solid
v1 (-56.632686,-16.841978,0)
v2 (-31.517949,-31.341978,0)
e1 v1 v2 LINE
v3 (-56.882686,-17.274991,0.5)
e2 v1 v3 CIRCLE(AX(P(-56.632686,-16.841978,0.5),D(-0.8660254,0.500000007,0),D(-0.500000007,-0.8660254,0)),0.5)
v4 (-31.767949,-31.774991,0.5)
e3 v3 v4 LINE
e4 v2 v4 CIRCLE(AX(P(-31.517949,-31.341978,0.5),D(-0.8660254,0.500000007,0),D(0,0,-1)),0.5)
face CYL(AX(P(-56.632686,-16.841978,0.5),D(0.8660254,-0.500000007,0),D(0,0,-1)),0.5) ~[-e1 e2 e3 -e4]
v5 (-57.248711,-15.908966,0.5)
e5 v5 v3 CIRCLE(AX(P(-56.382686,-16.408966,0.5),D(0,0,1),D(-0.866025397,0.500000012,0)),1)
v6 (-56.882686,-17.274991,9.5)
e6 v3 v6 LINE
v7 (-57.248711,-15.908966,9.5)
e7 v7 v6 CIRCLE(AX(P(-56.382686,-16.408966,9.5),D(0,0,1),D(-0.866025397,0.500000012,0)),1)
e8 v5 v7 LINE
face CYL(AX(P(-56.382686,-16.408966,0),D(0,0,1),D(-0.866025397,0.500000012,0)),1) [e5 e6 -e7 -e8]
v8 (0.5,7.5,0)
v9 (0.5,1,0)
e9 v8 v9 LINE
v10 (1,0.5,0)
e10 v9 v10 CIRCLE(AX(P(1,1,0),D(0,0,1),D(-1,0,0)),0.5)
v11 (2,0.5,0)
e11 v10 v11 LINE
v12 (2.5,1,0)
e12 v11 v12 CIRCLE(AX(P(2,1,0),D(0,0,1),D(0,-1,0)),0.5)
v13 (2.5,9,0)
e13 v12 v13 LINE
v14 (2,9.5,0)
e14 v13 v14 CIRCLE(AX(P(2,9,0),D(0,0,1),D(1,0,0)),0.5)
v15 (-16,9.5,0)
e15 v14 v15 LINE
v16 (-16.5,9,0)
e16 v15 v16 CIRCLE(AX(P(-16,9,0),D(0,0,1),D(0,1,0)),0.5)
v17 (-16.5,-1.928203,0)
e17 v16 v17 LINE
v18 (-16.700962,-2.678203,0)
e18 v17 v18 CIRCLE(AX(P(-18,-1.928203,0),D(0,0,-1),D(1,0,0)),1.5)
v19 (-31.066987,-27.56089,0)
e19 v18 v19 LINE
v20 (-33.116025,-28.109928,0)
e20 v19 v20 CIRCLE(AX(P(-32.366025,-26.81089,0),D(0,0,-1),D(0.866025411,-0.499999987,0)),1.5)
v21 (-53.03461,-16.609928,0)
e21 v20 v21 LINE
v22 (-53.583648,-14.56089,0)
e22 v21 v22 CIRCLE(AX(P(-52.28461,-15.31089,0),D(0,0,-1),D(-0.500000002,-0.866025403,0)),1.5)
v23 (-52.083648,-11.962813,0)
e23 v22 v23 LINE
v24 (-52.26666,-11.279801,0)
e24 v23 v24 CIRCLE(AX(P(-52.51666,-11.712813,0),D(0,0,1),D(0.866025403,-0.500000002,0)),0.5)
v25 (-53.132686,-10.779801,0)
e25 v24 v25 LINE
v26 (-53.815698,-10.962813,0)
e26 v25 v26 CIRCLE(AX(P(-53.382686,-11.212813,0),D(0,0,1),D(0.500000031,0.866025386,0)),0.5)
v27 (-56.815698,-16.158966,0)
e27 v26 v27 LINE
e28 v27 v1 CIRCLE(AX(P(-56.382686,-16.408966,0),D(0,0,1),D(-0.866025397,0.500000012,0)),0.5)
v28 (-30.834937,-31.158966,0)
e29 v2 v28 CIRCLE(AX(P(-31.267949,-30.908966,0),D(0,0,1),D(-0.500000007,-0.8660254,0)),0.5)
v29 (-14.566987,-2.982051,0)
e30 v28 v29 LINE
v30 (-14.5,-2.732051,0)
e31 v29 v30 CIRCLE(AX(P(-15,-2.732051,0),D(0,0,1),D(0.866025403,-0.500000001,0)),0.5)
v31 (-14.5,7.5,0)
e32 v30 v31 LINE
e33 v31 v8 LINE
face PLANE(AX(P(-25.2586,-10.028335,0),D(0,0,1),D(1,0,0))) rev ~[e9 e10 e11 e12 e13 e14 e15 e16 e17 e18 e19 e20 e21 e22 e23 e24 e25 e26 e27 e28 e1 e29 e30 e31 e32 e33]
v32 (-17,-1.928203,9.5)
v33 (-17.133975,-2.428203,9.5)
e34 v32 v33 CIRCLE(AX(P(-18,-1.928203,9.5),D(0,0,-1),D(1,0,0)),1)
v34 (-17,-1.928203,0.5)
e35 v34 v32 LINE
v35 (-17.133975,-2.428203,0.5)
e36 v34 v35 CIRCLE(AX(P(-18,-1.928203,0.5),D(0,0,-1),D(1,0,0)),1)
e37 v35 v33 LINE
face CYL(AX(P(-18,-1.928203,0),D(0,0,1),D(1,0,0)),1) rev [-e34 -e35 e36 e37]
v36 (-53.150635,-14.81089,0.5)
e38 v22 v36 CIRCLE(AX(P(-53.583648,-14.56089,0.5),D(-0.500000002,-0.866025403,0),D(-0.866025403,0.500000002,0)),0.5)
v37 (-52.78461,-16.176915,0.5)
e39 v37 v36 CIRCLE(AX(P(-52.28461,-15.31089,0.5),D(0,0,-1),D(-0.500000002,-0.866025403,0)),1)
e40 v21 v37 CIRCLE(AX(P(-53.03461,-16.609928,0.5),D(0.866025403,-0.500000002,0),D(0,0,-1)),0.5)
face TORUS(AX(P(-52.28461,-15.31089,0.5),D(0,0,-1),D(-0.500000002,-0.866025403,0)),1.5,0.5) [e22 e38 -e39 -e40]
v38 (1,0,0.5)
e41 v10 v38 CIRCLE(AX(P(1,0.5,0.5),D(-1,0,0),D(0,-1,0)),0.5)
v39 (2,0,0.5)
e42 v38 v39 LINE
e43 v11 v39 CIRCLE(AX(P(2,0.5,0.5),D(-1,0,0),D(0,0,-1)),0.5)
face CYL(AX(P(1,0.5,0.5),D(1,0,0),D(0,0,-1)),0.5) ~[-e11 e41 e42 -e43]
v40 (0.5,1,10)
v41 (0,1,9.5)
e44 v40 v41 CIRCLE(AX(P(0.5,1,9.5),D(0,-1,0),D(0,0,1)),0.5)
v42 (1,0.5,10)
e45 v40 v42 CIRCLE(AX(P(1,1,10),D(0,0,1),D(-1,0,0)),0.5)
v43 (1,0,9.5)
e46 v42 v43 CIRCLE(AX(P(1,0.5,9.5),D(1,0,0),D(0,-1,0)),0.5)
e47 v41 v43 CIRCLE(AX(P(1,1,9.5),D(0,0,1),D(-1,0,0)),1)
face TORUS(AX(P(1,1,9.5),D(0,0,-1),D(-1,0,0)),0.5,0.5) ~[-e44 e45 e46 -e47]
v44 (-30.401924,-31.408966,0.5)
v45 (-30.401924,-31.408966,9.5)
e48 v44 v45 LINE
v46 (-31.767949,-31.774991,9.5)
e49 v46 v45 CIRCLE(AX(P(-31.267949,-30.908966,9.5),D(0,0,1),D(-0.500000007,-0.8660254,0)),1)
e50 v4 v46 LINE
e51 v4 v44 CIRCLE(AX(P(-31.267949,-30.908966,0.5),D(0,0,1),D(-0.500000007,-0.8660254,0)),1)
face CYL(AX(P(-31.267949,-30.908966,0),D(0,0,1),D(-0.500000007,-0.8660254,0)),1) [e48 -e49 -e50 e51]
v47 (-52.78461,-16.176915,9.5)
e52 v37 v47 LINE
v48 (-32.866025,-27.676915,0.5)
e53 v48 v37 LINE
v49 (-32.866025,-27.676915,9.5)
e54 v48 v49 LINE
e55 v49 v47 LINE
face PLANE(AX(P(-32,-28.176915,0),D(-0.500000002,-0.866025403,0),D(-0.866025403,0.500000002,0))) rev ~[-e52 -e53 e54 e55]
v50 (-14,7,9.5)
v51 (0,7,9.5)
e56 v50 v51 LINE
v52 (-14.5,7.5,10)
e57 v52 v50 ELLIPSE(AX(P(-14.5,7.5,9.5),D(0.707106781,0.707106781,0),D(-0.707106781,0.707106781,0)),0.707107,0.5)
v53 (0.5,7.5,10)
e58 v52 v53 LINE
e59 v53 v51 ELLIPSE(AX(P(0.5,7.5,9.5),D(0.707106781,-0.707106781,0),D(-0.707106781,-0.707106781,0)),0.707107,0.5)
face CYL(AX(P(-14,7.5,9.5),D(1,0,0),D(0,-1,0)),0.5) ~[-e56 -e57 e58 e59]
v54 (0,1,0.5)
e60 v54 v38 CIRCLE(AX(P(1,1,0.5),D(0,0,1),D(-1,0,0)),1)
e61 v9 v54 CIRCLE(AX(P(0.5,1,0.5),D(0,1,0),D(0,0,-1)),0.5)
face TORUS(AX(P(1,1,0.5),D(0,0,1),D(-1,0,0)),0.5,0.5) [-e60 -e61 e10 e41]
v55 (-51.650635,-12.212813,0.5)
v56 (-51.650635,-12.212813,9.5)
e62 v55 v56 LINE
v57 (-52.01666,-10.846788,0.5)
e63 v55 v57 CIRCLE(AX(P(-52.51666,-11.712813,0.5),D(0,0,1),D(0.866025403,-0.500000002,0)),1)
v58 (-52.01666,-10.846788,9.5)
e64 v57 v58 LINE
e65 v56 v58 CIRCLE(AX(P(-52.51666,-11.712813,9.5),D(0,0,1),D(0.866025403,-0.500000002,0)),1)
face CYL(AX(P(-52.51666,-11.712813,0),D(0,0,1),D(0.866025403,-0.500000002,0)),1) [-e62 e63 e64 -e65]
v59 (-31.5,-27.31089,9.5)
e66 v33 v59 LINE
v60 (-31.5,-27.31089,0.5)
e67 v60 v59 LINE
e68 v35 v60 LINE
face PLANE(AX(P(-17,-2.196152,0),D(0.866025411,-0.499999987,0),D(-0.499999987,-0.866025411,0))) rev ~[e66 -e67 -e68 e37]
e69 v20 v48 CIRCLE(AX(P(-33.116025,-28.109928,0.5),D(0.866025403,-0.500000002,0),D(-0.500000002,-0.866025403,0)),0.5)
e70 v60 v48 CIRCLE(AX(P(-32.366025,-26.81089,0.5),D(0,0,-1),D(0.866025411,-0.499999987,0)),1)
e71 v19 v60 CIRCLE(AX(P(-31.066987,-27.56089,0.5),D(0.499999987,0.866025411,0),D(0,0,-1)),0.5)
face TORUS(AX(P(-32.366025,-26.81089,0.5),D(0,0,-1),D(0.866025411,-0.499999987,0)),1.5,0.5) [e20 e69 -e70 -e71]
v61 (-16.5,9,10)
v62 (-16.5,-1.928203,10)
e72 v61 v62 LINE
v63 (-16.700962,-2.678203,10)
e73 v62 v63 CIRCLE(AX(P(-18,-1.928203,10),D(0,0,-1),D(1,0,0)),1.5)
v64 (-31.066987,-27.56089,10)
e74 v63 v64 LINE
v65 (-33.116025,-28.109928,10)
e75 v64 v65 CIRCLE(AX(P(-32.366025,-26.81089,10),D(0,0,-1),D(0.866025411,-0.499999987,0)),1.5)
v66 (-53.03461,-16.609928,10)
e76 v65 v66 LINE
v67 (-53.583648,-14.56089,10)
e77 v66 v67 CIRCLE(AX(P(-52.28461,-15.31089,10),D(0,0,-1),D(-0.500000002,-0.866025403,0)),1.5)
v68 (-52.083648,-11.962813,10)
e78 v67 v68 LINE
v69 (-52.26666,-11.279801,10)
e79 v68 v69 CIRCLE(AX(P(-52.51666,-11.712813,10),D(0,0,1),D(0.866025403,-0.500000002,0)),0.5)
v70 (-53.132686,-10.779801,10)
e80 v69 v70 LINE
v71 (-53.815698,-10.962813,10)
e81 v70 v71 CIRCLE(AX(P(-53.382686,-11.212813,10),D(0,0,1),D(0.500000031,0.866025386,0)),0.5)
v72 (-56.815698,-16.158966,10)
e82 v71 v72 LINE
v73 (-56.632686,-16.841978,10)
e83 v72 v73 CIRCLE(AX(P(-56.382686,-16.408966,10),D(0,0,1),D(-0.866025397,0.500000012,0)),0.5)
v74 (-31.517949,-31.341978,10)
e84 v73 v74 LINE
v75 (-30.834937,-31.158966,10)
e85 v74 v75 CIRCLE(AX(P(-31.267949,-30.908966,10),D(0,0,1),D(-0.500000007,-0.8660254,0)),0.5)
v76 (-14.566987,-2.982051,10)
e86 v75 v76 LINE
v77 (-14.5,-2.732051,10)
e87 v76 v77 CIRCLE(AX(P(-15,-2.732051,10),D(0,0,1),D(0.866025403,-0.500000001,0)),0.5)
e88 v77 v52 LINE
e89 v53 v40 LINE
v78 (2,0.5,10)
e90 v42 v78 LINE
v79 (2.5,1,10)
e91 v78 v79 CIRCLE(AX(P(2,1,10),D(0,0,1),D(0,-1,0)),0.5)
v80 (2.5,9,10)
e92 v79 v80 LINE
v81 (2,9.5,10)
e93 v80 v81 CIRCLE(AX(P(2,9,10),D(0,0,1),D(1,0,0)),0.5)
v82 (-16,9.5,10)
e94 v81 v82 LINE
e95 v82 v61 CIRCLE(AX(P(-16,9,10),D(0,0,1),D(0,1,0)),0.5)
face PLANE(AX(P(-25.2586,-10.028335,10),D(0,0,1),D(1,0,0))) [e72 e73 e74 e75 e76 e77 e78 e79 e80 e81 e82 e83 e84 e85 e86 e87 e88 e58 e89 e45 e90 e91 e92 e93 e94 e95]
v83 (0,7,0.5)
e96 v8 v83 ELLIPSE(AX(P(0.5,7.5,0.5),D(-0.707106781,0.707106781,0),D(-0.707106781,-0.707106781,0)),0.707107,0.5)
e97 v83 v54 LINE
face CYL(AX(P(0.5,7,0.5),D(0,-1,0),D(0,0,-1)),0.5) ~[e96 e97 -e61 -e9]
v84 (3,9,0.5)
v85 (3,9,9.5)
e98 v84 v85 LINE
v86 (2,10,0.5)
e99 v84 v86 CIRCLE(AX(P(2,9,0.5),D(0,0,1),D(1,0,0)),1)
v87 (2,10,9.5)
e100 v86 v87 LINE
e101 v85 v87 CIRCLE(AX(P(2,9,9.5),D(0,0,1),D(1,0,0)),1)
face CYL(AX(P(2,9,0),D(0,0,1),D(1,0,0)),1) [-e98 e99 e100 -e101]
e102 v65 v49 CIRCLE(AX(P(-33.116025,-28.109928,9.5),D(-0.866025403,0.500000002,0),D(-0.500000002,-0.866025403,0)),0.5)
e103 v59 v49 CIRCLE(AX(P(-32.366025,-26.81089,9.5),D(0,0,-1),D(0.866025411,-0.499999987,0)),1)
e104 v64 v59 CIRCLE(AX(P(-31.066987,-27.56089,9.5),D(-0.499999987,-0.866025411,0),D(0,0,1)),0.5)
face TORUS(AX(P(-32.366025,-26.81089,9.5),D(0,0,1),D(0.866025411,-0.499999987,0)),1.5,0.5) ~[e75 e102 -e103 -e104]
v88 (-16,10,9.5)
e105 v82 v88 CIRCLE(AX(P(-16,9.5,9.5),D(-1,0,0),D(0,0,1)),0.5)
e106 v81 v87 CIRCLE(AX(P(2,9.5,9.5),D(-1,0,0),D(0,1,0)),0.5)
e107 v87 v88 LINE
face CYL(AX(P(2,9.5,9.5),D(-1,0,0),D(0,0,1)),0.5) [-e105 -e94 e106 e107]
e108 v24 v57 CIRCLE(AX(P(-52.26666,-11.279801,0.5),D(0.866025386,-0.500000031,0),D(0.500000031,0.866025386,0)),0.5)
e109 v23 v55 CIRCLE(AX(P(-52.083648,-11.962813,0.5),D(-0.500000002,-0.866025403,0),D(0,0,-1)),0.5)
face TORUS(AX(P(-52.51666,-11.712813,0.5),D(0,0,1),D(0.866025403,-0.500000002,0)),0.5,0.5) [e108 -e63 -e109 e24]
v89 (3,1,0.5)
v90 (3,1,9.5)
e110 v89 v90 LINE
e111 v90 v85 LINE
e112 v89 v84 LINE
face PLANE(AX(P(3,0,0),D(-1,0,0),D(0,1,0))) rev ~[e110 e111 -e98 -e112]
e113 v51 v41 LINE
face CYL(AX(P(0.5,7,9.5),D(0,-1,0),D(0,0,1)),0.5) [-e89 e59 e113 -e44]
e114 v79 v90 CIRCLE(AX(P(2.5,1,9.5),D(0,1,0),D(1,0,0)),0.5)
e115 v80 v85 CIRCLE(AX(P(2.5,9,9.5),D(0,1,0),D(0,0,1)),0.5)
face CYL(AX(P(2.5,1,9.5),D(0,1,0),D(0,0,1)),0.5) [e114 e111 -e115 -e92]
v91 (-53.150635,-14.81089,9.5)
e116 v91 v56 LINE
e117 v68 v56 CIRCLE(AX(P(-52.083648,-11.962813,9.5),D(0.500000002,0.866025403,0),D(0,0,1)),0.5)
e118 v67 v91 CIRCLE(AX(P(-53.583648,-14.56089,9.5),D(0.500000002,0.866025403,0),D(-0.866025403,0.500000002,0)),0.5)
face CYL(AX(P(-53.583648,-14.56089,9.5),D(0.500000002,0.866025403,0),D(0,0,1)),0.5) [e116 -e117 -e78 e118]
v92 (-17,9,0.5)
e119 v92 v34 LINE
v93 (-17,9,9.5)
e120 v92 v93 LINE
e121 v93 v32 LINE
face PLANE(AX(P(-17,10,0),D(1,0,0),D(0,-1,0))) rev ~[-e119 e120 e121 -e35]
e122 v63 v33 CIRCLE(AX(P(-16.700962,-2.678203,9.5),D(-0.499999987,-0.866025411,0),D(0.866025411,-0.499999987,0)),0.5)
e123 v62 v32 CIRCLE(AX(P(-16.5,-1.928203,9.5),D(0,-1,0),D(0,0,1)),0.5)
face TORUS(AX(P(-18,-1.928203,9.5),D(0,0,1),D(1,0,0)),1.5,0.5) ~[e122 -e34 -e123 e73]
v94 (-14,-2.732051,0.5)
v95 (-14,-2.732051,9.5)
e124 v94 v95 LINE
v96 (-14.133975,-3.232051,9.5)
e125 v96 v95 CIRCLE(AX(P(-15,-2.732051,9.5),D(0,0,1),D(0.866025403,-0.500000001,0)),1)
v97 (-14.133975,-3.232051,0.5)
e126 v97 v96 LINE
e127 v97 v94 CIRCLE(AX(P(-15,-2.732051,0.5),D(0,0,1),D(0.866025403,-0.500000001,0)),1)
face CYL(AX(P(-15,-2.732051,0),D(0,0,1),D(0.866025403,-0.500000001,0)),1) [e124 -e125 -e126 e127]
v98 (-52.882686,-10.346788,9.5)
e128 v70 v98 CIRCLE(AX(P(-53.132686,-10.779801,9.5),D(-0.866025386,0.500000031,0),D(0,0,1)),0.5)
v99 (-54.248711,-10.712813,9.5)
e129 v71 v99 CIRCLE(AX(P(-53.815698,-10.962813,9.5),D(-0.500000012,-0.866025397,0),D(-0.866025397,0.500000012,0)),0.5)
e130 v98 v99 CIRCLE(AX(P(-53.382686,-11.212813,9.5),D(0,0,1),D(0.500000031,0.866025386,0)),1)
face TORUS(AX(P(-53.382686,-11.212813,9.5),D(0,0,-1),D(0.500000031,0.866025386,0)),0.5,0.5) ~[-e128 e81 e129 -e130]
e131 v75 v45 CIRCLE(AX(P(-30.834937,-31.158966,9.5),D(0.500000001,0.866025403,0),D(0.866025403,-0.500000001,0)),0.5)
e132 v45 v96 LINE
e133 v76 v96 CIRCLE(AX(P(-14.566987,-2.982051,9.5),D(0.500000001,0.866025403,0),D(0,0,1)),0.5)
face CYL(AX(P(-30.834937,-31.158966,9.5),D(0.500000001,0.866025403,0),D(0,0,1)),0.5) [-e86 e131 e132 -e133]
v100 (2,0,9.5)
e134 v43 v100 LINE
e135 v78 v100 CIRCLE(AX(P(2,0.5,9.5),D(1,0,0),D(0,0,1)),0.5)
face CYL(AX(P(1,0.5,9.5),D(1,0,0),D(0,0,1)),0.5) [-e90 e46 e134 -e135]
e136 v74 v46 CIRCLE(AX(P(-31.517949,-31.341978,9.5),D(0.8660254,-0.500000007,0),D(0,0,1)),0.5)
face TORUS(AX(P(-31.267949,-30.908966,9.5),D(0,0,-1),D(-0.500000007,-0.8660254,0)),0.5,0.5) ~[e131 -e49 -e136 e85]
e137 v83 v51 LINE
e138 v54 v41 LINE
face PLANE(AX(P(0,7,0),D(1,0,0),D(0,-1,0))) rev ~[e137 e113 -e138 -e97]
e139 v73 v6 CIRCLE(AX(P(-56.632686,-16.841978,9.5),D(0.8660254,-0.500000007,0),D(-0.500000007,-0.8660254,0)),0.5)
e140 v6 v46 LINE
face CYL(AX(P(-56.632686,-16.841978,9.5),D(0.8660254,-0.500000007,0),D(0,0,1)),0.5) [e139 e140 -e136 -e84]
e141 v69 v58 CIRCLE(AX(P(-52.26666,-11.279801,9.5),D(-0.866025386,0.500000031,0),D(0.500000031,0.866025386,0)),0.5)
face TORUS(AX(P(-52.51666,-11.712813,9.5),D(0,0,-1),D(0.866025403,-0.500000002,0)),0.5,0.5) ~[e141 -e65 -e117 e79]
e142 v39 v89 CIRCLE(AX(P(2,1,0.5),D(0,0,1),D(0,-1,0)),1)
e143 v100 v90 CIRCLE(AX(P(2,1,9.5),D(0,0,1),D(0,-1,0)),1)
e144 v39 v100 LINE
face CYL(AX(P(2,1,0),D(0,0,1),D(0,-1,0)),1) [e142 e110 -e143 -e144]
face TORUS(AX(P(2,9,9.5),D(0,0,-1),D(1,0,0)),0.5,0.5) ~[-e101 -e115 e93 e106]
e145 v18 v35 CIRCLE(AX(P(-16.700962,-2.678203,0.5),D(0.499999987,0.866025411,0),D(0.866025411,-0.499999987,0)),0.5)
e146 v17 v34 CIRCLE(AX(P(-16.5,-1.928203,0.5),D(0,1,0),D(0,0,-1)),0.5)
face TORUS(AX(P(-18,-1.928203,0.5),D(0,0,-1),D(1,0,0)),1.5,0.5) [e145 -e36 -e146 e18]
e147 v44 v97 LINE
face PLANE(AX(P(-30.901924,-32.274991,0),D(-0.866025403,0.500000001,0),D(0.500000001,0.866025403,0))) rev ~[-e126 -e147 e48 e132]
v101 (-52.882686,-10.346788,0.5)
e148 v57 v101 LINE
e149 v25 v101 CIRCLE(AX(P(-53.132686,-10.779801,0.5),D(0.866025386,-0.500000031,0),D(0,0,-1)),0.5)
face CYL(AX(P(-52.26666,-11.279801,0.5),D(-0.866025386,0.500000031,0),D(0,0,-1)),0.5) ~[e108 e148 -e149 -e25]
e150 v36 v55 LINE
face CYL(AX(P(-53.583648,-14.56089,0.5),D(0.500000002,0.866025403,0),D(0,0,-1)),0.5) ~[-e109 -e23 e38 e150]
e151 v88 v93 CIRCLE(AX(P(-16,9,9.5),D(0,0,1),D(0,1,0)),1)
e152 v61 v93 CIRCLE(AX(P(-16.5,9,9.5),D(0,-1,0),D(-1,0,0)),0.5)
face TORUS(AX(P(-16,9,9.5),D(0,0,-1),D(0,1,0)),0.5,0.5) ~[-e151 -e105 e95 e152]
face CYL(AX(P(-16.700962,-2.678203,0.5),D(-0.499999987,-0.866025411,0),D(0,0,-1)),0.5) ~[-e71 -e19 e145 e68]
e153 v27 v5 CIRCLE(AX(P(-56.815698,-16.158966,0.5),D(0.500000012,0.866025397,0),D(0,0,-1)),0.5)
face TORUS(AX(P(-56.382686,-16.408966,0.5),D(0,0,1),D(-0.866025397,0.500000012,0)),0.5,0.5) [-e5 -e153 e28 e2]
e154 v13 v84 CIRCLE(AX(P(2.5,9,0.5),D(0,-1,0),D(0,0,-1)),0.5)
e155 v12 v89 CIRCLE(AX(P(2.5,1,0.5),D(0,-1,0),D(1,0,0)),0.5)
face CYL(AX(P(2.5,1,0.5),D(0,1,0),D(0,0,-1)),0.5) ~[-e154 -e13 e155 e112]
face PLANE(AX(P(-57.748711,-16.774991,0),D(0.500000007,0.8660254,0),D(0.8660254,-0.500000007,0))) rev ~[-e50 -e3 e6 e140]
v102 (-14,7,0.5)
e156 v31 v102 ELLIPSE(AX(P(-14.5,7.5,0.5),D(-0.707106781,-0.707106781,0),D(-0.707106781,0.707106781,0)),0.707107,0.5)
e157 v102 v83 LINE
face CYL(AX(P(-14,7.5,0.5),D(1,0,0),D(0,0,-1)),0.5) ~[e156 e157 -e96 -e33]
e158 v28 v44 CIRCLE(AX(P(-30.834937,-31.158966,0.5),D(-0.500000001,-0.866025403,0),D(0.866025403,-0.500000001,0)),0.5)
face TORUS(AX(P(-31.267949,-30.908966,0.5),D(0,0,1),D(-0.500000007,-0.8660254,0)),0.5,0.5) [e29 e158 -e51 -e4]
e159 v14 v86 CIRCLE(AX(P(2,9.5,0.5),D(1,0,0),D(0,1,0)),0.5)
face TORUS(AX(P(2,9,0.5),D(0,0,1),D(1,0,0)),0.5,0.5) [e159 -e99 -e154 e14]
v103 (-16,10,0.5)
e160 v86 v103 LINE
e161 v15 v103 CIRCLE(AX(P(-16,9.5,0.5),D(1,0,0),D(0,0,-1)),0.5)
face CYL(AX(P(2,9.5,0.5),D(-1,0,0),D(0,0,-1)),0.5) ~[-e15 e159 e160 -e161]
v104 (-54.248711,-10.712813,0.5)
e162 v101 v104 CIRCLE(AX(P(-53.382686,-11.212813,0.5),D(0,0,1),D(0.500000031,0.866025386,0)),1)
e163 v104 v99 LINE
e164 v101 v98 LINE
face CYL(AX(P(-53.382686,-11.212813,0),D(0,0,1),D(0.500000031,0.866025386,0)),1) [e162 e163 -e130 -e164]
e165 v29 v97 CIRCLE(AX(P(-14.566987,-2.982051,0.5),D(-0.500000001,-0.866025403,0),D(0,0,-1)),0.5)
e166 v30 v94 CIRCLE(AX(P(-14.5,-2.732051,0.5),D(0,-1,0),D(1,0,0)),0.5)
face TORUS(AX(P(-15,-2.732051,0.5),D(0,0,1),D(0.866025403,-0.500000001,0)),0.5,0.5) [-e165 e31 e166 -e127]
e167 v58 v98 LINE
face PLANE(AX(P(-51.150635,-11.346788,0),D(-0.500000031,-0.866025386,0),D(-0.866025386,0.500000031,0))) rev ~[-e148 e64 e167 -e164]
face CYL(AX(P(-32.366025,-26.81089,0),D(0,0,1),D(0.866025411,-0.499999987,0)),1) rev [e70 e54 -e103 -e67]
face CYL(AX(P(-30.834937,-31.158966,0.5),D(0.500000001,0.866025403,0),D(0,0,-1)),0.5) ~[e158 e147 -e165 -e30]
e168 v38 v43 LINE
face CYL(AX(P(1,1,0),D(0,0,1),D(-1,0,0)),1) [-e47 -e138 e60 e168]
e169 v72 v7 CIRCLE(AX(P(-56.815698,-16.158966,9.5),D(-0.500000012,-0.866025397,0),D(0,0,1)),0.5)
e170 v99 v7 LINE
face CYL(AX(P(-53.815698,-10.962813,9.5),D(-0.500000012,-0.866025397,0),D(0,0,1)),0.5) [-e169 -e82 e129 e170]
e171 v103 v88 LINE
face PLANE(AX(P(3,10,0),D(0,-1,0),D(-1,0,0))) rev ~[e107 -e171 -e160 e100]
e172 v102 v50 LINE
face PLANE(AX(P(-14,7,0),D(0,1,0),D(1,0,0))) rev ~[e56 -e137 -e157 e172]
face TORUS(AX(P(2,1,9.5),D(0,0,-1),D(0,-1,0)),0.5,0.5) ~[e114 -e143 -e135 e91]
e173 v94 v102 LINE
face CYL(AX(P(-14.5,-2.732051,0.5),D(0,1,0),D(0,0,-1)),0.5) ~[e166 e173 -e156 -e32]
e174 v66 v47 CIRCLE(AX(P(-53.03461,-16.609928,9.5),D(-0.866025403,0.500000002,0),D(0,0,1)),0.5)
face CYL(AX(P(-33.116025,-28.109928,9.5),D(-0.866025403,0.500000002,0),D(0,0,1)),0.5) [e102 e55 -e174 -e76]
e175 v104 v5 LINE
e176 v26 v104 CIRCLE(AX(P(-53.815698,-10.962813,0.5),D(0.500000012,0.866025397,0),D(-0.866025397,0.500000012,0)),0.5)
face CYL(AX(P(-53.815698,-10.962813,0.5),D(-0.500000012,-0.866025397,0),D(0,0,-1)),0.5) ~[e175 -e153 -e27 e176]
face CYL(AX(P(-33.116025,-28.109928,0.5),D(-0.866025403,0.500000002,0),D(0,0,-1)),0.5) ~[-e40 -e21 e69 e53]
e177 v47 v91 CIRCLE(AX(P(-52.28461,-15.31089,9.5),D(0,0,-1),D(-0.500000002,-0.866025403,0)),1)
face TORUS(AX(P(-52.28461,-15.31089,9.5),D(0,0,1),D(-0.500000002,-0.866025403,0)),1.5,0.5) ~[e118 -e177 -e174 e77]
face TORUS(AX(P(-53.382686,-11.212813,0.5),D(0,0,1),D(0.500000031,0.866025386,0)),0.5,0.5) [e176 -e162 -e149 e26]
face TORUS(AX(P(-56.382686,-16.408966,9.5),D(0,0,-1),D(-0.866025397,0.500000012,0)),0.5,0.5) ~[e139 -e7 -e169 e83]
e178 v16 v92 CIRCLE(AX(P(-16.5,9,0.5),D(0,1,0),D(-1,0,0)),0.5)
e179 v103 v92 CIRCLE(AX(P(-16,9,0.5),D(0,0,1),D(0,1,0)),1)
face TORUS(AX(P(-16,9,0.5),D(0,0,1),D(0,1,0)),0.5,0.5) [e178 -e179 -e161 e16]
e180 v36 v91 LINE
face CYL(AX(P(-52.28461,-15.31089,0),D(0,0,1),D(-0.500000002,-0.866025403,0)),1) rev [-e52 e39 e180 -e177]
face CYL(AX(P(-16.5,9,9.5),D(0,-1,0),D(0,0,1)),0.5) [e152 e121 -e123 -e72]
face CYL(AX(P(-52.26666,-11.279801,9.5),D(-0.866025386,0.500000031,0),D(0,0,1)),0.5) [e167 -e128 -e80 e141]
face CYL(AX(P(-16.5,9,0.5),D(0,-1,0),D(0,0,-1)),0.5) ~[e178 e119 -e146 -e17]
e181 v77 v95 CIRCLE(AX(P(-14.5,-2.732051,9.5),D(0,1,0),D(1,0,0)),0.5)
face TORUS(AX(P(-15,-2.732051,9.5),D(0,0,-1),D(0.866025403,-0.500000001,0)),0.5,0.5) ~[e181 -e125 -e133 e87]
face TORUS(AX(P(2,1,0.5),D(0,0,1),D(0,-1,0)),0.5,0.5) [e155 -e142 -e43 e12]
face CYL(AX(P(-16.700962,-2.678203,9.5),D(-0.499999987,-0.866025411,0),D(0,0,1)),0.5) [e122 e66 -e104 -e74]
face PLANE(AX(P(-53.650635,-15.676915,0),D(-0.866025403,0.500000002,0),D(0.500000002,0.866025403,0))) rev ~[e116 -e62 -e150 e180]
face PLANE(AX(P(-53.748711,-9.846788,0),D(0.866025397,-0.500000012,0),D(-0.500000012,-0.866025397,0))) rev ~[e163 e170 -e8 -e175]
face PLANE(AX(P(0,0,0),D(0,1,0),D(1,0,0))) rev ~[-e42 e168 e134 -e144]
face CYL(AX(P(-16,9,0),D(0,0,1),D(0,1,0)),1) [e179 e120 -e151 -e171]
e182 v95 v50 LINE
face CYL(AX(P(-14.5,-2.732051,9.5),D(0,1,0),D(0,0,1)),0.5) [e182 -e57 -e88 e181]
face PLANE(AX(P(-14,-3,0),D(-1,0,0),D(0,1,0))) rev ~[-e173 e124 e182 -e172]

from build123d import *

# Parameters (mm, degrees)
F1_DEPTH = 10
F2_R     = 1
F3_R     = 0.5


with BuildPart() as f1:
    # F0 (on Top) → F1 (new body)
    with BuildSketch(Plane.XY):
        Polygon((0, 7), (0, 0), (3, 0), (3, 10), (-17, 10), (-17, -2.196152), (-32, -28.176915), (-53.650635, -15.676915), (-51.150635, -11.346788), (-53.748711, -9.846788), (-57.748711, -16.774991), (-30.901924, -32.274991), (-14, -3), (-14, 7), align=None)
    extrude(amount=F1_DEPTH)

    # F2
    f2_edges = [f1.edges().sort_by_distance(p)[0] for p in [
        (-17, 10, 5),
        (3, 10, 5),
        (-17, -2.196152, 5),
        (-14, -3, 5),
        (3, 0, 5),
        (0, 0, 5),
        (-30.901924, -32.274991, 5),
        (-32, -28.176915, 5),
        (-53.650635, -15.676915, 5),
        (-51.150635, -11.346788, 5),
        (-53.748711, -9.846788, 5),
        (-57.748711, -16.774991, 5),
    ]]
    fillet(f2_edges, radius=F2_R)

    # F3
    f3_edges = [f1.edges().sort_by_distance(p)[0] for p in [
        (-22.267949, -17.320508, 10),
        (-7, 7, 10),
        (-22.267949, -17.320508, 0),
        (-7, 7, 0),
    ]]
    fillet(f3_edges, radius=F3_R)


solid = f1.part
